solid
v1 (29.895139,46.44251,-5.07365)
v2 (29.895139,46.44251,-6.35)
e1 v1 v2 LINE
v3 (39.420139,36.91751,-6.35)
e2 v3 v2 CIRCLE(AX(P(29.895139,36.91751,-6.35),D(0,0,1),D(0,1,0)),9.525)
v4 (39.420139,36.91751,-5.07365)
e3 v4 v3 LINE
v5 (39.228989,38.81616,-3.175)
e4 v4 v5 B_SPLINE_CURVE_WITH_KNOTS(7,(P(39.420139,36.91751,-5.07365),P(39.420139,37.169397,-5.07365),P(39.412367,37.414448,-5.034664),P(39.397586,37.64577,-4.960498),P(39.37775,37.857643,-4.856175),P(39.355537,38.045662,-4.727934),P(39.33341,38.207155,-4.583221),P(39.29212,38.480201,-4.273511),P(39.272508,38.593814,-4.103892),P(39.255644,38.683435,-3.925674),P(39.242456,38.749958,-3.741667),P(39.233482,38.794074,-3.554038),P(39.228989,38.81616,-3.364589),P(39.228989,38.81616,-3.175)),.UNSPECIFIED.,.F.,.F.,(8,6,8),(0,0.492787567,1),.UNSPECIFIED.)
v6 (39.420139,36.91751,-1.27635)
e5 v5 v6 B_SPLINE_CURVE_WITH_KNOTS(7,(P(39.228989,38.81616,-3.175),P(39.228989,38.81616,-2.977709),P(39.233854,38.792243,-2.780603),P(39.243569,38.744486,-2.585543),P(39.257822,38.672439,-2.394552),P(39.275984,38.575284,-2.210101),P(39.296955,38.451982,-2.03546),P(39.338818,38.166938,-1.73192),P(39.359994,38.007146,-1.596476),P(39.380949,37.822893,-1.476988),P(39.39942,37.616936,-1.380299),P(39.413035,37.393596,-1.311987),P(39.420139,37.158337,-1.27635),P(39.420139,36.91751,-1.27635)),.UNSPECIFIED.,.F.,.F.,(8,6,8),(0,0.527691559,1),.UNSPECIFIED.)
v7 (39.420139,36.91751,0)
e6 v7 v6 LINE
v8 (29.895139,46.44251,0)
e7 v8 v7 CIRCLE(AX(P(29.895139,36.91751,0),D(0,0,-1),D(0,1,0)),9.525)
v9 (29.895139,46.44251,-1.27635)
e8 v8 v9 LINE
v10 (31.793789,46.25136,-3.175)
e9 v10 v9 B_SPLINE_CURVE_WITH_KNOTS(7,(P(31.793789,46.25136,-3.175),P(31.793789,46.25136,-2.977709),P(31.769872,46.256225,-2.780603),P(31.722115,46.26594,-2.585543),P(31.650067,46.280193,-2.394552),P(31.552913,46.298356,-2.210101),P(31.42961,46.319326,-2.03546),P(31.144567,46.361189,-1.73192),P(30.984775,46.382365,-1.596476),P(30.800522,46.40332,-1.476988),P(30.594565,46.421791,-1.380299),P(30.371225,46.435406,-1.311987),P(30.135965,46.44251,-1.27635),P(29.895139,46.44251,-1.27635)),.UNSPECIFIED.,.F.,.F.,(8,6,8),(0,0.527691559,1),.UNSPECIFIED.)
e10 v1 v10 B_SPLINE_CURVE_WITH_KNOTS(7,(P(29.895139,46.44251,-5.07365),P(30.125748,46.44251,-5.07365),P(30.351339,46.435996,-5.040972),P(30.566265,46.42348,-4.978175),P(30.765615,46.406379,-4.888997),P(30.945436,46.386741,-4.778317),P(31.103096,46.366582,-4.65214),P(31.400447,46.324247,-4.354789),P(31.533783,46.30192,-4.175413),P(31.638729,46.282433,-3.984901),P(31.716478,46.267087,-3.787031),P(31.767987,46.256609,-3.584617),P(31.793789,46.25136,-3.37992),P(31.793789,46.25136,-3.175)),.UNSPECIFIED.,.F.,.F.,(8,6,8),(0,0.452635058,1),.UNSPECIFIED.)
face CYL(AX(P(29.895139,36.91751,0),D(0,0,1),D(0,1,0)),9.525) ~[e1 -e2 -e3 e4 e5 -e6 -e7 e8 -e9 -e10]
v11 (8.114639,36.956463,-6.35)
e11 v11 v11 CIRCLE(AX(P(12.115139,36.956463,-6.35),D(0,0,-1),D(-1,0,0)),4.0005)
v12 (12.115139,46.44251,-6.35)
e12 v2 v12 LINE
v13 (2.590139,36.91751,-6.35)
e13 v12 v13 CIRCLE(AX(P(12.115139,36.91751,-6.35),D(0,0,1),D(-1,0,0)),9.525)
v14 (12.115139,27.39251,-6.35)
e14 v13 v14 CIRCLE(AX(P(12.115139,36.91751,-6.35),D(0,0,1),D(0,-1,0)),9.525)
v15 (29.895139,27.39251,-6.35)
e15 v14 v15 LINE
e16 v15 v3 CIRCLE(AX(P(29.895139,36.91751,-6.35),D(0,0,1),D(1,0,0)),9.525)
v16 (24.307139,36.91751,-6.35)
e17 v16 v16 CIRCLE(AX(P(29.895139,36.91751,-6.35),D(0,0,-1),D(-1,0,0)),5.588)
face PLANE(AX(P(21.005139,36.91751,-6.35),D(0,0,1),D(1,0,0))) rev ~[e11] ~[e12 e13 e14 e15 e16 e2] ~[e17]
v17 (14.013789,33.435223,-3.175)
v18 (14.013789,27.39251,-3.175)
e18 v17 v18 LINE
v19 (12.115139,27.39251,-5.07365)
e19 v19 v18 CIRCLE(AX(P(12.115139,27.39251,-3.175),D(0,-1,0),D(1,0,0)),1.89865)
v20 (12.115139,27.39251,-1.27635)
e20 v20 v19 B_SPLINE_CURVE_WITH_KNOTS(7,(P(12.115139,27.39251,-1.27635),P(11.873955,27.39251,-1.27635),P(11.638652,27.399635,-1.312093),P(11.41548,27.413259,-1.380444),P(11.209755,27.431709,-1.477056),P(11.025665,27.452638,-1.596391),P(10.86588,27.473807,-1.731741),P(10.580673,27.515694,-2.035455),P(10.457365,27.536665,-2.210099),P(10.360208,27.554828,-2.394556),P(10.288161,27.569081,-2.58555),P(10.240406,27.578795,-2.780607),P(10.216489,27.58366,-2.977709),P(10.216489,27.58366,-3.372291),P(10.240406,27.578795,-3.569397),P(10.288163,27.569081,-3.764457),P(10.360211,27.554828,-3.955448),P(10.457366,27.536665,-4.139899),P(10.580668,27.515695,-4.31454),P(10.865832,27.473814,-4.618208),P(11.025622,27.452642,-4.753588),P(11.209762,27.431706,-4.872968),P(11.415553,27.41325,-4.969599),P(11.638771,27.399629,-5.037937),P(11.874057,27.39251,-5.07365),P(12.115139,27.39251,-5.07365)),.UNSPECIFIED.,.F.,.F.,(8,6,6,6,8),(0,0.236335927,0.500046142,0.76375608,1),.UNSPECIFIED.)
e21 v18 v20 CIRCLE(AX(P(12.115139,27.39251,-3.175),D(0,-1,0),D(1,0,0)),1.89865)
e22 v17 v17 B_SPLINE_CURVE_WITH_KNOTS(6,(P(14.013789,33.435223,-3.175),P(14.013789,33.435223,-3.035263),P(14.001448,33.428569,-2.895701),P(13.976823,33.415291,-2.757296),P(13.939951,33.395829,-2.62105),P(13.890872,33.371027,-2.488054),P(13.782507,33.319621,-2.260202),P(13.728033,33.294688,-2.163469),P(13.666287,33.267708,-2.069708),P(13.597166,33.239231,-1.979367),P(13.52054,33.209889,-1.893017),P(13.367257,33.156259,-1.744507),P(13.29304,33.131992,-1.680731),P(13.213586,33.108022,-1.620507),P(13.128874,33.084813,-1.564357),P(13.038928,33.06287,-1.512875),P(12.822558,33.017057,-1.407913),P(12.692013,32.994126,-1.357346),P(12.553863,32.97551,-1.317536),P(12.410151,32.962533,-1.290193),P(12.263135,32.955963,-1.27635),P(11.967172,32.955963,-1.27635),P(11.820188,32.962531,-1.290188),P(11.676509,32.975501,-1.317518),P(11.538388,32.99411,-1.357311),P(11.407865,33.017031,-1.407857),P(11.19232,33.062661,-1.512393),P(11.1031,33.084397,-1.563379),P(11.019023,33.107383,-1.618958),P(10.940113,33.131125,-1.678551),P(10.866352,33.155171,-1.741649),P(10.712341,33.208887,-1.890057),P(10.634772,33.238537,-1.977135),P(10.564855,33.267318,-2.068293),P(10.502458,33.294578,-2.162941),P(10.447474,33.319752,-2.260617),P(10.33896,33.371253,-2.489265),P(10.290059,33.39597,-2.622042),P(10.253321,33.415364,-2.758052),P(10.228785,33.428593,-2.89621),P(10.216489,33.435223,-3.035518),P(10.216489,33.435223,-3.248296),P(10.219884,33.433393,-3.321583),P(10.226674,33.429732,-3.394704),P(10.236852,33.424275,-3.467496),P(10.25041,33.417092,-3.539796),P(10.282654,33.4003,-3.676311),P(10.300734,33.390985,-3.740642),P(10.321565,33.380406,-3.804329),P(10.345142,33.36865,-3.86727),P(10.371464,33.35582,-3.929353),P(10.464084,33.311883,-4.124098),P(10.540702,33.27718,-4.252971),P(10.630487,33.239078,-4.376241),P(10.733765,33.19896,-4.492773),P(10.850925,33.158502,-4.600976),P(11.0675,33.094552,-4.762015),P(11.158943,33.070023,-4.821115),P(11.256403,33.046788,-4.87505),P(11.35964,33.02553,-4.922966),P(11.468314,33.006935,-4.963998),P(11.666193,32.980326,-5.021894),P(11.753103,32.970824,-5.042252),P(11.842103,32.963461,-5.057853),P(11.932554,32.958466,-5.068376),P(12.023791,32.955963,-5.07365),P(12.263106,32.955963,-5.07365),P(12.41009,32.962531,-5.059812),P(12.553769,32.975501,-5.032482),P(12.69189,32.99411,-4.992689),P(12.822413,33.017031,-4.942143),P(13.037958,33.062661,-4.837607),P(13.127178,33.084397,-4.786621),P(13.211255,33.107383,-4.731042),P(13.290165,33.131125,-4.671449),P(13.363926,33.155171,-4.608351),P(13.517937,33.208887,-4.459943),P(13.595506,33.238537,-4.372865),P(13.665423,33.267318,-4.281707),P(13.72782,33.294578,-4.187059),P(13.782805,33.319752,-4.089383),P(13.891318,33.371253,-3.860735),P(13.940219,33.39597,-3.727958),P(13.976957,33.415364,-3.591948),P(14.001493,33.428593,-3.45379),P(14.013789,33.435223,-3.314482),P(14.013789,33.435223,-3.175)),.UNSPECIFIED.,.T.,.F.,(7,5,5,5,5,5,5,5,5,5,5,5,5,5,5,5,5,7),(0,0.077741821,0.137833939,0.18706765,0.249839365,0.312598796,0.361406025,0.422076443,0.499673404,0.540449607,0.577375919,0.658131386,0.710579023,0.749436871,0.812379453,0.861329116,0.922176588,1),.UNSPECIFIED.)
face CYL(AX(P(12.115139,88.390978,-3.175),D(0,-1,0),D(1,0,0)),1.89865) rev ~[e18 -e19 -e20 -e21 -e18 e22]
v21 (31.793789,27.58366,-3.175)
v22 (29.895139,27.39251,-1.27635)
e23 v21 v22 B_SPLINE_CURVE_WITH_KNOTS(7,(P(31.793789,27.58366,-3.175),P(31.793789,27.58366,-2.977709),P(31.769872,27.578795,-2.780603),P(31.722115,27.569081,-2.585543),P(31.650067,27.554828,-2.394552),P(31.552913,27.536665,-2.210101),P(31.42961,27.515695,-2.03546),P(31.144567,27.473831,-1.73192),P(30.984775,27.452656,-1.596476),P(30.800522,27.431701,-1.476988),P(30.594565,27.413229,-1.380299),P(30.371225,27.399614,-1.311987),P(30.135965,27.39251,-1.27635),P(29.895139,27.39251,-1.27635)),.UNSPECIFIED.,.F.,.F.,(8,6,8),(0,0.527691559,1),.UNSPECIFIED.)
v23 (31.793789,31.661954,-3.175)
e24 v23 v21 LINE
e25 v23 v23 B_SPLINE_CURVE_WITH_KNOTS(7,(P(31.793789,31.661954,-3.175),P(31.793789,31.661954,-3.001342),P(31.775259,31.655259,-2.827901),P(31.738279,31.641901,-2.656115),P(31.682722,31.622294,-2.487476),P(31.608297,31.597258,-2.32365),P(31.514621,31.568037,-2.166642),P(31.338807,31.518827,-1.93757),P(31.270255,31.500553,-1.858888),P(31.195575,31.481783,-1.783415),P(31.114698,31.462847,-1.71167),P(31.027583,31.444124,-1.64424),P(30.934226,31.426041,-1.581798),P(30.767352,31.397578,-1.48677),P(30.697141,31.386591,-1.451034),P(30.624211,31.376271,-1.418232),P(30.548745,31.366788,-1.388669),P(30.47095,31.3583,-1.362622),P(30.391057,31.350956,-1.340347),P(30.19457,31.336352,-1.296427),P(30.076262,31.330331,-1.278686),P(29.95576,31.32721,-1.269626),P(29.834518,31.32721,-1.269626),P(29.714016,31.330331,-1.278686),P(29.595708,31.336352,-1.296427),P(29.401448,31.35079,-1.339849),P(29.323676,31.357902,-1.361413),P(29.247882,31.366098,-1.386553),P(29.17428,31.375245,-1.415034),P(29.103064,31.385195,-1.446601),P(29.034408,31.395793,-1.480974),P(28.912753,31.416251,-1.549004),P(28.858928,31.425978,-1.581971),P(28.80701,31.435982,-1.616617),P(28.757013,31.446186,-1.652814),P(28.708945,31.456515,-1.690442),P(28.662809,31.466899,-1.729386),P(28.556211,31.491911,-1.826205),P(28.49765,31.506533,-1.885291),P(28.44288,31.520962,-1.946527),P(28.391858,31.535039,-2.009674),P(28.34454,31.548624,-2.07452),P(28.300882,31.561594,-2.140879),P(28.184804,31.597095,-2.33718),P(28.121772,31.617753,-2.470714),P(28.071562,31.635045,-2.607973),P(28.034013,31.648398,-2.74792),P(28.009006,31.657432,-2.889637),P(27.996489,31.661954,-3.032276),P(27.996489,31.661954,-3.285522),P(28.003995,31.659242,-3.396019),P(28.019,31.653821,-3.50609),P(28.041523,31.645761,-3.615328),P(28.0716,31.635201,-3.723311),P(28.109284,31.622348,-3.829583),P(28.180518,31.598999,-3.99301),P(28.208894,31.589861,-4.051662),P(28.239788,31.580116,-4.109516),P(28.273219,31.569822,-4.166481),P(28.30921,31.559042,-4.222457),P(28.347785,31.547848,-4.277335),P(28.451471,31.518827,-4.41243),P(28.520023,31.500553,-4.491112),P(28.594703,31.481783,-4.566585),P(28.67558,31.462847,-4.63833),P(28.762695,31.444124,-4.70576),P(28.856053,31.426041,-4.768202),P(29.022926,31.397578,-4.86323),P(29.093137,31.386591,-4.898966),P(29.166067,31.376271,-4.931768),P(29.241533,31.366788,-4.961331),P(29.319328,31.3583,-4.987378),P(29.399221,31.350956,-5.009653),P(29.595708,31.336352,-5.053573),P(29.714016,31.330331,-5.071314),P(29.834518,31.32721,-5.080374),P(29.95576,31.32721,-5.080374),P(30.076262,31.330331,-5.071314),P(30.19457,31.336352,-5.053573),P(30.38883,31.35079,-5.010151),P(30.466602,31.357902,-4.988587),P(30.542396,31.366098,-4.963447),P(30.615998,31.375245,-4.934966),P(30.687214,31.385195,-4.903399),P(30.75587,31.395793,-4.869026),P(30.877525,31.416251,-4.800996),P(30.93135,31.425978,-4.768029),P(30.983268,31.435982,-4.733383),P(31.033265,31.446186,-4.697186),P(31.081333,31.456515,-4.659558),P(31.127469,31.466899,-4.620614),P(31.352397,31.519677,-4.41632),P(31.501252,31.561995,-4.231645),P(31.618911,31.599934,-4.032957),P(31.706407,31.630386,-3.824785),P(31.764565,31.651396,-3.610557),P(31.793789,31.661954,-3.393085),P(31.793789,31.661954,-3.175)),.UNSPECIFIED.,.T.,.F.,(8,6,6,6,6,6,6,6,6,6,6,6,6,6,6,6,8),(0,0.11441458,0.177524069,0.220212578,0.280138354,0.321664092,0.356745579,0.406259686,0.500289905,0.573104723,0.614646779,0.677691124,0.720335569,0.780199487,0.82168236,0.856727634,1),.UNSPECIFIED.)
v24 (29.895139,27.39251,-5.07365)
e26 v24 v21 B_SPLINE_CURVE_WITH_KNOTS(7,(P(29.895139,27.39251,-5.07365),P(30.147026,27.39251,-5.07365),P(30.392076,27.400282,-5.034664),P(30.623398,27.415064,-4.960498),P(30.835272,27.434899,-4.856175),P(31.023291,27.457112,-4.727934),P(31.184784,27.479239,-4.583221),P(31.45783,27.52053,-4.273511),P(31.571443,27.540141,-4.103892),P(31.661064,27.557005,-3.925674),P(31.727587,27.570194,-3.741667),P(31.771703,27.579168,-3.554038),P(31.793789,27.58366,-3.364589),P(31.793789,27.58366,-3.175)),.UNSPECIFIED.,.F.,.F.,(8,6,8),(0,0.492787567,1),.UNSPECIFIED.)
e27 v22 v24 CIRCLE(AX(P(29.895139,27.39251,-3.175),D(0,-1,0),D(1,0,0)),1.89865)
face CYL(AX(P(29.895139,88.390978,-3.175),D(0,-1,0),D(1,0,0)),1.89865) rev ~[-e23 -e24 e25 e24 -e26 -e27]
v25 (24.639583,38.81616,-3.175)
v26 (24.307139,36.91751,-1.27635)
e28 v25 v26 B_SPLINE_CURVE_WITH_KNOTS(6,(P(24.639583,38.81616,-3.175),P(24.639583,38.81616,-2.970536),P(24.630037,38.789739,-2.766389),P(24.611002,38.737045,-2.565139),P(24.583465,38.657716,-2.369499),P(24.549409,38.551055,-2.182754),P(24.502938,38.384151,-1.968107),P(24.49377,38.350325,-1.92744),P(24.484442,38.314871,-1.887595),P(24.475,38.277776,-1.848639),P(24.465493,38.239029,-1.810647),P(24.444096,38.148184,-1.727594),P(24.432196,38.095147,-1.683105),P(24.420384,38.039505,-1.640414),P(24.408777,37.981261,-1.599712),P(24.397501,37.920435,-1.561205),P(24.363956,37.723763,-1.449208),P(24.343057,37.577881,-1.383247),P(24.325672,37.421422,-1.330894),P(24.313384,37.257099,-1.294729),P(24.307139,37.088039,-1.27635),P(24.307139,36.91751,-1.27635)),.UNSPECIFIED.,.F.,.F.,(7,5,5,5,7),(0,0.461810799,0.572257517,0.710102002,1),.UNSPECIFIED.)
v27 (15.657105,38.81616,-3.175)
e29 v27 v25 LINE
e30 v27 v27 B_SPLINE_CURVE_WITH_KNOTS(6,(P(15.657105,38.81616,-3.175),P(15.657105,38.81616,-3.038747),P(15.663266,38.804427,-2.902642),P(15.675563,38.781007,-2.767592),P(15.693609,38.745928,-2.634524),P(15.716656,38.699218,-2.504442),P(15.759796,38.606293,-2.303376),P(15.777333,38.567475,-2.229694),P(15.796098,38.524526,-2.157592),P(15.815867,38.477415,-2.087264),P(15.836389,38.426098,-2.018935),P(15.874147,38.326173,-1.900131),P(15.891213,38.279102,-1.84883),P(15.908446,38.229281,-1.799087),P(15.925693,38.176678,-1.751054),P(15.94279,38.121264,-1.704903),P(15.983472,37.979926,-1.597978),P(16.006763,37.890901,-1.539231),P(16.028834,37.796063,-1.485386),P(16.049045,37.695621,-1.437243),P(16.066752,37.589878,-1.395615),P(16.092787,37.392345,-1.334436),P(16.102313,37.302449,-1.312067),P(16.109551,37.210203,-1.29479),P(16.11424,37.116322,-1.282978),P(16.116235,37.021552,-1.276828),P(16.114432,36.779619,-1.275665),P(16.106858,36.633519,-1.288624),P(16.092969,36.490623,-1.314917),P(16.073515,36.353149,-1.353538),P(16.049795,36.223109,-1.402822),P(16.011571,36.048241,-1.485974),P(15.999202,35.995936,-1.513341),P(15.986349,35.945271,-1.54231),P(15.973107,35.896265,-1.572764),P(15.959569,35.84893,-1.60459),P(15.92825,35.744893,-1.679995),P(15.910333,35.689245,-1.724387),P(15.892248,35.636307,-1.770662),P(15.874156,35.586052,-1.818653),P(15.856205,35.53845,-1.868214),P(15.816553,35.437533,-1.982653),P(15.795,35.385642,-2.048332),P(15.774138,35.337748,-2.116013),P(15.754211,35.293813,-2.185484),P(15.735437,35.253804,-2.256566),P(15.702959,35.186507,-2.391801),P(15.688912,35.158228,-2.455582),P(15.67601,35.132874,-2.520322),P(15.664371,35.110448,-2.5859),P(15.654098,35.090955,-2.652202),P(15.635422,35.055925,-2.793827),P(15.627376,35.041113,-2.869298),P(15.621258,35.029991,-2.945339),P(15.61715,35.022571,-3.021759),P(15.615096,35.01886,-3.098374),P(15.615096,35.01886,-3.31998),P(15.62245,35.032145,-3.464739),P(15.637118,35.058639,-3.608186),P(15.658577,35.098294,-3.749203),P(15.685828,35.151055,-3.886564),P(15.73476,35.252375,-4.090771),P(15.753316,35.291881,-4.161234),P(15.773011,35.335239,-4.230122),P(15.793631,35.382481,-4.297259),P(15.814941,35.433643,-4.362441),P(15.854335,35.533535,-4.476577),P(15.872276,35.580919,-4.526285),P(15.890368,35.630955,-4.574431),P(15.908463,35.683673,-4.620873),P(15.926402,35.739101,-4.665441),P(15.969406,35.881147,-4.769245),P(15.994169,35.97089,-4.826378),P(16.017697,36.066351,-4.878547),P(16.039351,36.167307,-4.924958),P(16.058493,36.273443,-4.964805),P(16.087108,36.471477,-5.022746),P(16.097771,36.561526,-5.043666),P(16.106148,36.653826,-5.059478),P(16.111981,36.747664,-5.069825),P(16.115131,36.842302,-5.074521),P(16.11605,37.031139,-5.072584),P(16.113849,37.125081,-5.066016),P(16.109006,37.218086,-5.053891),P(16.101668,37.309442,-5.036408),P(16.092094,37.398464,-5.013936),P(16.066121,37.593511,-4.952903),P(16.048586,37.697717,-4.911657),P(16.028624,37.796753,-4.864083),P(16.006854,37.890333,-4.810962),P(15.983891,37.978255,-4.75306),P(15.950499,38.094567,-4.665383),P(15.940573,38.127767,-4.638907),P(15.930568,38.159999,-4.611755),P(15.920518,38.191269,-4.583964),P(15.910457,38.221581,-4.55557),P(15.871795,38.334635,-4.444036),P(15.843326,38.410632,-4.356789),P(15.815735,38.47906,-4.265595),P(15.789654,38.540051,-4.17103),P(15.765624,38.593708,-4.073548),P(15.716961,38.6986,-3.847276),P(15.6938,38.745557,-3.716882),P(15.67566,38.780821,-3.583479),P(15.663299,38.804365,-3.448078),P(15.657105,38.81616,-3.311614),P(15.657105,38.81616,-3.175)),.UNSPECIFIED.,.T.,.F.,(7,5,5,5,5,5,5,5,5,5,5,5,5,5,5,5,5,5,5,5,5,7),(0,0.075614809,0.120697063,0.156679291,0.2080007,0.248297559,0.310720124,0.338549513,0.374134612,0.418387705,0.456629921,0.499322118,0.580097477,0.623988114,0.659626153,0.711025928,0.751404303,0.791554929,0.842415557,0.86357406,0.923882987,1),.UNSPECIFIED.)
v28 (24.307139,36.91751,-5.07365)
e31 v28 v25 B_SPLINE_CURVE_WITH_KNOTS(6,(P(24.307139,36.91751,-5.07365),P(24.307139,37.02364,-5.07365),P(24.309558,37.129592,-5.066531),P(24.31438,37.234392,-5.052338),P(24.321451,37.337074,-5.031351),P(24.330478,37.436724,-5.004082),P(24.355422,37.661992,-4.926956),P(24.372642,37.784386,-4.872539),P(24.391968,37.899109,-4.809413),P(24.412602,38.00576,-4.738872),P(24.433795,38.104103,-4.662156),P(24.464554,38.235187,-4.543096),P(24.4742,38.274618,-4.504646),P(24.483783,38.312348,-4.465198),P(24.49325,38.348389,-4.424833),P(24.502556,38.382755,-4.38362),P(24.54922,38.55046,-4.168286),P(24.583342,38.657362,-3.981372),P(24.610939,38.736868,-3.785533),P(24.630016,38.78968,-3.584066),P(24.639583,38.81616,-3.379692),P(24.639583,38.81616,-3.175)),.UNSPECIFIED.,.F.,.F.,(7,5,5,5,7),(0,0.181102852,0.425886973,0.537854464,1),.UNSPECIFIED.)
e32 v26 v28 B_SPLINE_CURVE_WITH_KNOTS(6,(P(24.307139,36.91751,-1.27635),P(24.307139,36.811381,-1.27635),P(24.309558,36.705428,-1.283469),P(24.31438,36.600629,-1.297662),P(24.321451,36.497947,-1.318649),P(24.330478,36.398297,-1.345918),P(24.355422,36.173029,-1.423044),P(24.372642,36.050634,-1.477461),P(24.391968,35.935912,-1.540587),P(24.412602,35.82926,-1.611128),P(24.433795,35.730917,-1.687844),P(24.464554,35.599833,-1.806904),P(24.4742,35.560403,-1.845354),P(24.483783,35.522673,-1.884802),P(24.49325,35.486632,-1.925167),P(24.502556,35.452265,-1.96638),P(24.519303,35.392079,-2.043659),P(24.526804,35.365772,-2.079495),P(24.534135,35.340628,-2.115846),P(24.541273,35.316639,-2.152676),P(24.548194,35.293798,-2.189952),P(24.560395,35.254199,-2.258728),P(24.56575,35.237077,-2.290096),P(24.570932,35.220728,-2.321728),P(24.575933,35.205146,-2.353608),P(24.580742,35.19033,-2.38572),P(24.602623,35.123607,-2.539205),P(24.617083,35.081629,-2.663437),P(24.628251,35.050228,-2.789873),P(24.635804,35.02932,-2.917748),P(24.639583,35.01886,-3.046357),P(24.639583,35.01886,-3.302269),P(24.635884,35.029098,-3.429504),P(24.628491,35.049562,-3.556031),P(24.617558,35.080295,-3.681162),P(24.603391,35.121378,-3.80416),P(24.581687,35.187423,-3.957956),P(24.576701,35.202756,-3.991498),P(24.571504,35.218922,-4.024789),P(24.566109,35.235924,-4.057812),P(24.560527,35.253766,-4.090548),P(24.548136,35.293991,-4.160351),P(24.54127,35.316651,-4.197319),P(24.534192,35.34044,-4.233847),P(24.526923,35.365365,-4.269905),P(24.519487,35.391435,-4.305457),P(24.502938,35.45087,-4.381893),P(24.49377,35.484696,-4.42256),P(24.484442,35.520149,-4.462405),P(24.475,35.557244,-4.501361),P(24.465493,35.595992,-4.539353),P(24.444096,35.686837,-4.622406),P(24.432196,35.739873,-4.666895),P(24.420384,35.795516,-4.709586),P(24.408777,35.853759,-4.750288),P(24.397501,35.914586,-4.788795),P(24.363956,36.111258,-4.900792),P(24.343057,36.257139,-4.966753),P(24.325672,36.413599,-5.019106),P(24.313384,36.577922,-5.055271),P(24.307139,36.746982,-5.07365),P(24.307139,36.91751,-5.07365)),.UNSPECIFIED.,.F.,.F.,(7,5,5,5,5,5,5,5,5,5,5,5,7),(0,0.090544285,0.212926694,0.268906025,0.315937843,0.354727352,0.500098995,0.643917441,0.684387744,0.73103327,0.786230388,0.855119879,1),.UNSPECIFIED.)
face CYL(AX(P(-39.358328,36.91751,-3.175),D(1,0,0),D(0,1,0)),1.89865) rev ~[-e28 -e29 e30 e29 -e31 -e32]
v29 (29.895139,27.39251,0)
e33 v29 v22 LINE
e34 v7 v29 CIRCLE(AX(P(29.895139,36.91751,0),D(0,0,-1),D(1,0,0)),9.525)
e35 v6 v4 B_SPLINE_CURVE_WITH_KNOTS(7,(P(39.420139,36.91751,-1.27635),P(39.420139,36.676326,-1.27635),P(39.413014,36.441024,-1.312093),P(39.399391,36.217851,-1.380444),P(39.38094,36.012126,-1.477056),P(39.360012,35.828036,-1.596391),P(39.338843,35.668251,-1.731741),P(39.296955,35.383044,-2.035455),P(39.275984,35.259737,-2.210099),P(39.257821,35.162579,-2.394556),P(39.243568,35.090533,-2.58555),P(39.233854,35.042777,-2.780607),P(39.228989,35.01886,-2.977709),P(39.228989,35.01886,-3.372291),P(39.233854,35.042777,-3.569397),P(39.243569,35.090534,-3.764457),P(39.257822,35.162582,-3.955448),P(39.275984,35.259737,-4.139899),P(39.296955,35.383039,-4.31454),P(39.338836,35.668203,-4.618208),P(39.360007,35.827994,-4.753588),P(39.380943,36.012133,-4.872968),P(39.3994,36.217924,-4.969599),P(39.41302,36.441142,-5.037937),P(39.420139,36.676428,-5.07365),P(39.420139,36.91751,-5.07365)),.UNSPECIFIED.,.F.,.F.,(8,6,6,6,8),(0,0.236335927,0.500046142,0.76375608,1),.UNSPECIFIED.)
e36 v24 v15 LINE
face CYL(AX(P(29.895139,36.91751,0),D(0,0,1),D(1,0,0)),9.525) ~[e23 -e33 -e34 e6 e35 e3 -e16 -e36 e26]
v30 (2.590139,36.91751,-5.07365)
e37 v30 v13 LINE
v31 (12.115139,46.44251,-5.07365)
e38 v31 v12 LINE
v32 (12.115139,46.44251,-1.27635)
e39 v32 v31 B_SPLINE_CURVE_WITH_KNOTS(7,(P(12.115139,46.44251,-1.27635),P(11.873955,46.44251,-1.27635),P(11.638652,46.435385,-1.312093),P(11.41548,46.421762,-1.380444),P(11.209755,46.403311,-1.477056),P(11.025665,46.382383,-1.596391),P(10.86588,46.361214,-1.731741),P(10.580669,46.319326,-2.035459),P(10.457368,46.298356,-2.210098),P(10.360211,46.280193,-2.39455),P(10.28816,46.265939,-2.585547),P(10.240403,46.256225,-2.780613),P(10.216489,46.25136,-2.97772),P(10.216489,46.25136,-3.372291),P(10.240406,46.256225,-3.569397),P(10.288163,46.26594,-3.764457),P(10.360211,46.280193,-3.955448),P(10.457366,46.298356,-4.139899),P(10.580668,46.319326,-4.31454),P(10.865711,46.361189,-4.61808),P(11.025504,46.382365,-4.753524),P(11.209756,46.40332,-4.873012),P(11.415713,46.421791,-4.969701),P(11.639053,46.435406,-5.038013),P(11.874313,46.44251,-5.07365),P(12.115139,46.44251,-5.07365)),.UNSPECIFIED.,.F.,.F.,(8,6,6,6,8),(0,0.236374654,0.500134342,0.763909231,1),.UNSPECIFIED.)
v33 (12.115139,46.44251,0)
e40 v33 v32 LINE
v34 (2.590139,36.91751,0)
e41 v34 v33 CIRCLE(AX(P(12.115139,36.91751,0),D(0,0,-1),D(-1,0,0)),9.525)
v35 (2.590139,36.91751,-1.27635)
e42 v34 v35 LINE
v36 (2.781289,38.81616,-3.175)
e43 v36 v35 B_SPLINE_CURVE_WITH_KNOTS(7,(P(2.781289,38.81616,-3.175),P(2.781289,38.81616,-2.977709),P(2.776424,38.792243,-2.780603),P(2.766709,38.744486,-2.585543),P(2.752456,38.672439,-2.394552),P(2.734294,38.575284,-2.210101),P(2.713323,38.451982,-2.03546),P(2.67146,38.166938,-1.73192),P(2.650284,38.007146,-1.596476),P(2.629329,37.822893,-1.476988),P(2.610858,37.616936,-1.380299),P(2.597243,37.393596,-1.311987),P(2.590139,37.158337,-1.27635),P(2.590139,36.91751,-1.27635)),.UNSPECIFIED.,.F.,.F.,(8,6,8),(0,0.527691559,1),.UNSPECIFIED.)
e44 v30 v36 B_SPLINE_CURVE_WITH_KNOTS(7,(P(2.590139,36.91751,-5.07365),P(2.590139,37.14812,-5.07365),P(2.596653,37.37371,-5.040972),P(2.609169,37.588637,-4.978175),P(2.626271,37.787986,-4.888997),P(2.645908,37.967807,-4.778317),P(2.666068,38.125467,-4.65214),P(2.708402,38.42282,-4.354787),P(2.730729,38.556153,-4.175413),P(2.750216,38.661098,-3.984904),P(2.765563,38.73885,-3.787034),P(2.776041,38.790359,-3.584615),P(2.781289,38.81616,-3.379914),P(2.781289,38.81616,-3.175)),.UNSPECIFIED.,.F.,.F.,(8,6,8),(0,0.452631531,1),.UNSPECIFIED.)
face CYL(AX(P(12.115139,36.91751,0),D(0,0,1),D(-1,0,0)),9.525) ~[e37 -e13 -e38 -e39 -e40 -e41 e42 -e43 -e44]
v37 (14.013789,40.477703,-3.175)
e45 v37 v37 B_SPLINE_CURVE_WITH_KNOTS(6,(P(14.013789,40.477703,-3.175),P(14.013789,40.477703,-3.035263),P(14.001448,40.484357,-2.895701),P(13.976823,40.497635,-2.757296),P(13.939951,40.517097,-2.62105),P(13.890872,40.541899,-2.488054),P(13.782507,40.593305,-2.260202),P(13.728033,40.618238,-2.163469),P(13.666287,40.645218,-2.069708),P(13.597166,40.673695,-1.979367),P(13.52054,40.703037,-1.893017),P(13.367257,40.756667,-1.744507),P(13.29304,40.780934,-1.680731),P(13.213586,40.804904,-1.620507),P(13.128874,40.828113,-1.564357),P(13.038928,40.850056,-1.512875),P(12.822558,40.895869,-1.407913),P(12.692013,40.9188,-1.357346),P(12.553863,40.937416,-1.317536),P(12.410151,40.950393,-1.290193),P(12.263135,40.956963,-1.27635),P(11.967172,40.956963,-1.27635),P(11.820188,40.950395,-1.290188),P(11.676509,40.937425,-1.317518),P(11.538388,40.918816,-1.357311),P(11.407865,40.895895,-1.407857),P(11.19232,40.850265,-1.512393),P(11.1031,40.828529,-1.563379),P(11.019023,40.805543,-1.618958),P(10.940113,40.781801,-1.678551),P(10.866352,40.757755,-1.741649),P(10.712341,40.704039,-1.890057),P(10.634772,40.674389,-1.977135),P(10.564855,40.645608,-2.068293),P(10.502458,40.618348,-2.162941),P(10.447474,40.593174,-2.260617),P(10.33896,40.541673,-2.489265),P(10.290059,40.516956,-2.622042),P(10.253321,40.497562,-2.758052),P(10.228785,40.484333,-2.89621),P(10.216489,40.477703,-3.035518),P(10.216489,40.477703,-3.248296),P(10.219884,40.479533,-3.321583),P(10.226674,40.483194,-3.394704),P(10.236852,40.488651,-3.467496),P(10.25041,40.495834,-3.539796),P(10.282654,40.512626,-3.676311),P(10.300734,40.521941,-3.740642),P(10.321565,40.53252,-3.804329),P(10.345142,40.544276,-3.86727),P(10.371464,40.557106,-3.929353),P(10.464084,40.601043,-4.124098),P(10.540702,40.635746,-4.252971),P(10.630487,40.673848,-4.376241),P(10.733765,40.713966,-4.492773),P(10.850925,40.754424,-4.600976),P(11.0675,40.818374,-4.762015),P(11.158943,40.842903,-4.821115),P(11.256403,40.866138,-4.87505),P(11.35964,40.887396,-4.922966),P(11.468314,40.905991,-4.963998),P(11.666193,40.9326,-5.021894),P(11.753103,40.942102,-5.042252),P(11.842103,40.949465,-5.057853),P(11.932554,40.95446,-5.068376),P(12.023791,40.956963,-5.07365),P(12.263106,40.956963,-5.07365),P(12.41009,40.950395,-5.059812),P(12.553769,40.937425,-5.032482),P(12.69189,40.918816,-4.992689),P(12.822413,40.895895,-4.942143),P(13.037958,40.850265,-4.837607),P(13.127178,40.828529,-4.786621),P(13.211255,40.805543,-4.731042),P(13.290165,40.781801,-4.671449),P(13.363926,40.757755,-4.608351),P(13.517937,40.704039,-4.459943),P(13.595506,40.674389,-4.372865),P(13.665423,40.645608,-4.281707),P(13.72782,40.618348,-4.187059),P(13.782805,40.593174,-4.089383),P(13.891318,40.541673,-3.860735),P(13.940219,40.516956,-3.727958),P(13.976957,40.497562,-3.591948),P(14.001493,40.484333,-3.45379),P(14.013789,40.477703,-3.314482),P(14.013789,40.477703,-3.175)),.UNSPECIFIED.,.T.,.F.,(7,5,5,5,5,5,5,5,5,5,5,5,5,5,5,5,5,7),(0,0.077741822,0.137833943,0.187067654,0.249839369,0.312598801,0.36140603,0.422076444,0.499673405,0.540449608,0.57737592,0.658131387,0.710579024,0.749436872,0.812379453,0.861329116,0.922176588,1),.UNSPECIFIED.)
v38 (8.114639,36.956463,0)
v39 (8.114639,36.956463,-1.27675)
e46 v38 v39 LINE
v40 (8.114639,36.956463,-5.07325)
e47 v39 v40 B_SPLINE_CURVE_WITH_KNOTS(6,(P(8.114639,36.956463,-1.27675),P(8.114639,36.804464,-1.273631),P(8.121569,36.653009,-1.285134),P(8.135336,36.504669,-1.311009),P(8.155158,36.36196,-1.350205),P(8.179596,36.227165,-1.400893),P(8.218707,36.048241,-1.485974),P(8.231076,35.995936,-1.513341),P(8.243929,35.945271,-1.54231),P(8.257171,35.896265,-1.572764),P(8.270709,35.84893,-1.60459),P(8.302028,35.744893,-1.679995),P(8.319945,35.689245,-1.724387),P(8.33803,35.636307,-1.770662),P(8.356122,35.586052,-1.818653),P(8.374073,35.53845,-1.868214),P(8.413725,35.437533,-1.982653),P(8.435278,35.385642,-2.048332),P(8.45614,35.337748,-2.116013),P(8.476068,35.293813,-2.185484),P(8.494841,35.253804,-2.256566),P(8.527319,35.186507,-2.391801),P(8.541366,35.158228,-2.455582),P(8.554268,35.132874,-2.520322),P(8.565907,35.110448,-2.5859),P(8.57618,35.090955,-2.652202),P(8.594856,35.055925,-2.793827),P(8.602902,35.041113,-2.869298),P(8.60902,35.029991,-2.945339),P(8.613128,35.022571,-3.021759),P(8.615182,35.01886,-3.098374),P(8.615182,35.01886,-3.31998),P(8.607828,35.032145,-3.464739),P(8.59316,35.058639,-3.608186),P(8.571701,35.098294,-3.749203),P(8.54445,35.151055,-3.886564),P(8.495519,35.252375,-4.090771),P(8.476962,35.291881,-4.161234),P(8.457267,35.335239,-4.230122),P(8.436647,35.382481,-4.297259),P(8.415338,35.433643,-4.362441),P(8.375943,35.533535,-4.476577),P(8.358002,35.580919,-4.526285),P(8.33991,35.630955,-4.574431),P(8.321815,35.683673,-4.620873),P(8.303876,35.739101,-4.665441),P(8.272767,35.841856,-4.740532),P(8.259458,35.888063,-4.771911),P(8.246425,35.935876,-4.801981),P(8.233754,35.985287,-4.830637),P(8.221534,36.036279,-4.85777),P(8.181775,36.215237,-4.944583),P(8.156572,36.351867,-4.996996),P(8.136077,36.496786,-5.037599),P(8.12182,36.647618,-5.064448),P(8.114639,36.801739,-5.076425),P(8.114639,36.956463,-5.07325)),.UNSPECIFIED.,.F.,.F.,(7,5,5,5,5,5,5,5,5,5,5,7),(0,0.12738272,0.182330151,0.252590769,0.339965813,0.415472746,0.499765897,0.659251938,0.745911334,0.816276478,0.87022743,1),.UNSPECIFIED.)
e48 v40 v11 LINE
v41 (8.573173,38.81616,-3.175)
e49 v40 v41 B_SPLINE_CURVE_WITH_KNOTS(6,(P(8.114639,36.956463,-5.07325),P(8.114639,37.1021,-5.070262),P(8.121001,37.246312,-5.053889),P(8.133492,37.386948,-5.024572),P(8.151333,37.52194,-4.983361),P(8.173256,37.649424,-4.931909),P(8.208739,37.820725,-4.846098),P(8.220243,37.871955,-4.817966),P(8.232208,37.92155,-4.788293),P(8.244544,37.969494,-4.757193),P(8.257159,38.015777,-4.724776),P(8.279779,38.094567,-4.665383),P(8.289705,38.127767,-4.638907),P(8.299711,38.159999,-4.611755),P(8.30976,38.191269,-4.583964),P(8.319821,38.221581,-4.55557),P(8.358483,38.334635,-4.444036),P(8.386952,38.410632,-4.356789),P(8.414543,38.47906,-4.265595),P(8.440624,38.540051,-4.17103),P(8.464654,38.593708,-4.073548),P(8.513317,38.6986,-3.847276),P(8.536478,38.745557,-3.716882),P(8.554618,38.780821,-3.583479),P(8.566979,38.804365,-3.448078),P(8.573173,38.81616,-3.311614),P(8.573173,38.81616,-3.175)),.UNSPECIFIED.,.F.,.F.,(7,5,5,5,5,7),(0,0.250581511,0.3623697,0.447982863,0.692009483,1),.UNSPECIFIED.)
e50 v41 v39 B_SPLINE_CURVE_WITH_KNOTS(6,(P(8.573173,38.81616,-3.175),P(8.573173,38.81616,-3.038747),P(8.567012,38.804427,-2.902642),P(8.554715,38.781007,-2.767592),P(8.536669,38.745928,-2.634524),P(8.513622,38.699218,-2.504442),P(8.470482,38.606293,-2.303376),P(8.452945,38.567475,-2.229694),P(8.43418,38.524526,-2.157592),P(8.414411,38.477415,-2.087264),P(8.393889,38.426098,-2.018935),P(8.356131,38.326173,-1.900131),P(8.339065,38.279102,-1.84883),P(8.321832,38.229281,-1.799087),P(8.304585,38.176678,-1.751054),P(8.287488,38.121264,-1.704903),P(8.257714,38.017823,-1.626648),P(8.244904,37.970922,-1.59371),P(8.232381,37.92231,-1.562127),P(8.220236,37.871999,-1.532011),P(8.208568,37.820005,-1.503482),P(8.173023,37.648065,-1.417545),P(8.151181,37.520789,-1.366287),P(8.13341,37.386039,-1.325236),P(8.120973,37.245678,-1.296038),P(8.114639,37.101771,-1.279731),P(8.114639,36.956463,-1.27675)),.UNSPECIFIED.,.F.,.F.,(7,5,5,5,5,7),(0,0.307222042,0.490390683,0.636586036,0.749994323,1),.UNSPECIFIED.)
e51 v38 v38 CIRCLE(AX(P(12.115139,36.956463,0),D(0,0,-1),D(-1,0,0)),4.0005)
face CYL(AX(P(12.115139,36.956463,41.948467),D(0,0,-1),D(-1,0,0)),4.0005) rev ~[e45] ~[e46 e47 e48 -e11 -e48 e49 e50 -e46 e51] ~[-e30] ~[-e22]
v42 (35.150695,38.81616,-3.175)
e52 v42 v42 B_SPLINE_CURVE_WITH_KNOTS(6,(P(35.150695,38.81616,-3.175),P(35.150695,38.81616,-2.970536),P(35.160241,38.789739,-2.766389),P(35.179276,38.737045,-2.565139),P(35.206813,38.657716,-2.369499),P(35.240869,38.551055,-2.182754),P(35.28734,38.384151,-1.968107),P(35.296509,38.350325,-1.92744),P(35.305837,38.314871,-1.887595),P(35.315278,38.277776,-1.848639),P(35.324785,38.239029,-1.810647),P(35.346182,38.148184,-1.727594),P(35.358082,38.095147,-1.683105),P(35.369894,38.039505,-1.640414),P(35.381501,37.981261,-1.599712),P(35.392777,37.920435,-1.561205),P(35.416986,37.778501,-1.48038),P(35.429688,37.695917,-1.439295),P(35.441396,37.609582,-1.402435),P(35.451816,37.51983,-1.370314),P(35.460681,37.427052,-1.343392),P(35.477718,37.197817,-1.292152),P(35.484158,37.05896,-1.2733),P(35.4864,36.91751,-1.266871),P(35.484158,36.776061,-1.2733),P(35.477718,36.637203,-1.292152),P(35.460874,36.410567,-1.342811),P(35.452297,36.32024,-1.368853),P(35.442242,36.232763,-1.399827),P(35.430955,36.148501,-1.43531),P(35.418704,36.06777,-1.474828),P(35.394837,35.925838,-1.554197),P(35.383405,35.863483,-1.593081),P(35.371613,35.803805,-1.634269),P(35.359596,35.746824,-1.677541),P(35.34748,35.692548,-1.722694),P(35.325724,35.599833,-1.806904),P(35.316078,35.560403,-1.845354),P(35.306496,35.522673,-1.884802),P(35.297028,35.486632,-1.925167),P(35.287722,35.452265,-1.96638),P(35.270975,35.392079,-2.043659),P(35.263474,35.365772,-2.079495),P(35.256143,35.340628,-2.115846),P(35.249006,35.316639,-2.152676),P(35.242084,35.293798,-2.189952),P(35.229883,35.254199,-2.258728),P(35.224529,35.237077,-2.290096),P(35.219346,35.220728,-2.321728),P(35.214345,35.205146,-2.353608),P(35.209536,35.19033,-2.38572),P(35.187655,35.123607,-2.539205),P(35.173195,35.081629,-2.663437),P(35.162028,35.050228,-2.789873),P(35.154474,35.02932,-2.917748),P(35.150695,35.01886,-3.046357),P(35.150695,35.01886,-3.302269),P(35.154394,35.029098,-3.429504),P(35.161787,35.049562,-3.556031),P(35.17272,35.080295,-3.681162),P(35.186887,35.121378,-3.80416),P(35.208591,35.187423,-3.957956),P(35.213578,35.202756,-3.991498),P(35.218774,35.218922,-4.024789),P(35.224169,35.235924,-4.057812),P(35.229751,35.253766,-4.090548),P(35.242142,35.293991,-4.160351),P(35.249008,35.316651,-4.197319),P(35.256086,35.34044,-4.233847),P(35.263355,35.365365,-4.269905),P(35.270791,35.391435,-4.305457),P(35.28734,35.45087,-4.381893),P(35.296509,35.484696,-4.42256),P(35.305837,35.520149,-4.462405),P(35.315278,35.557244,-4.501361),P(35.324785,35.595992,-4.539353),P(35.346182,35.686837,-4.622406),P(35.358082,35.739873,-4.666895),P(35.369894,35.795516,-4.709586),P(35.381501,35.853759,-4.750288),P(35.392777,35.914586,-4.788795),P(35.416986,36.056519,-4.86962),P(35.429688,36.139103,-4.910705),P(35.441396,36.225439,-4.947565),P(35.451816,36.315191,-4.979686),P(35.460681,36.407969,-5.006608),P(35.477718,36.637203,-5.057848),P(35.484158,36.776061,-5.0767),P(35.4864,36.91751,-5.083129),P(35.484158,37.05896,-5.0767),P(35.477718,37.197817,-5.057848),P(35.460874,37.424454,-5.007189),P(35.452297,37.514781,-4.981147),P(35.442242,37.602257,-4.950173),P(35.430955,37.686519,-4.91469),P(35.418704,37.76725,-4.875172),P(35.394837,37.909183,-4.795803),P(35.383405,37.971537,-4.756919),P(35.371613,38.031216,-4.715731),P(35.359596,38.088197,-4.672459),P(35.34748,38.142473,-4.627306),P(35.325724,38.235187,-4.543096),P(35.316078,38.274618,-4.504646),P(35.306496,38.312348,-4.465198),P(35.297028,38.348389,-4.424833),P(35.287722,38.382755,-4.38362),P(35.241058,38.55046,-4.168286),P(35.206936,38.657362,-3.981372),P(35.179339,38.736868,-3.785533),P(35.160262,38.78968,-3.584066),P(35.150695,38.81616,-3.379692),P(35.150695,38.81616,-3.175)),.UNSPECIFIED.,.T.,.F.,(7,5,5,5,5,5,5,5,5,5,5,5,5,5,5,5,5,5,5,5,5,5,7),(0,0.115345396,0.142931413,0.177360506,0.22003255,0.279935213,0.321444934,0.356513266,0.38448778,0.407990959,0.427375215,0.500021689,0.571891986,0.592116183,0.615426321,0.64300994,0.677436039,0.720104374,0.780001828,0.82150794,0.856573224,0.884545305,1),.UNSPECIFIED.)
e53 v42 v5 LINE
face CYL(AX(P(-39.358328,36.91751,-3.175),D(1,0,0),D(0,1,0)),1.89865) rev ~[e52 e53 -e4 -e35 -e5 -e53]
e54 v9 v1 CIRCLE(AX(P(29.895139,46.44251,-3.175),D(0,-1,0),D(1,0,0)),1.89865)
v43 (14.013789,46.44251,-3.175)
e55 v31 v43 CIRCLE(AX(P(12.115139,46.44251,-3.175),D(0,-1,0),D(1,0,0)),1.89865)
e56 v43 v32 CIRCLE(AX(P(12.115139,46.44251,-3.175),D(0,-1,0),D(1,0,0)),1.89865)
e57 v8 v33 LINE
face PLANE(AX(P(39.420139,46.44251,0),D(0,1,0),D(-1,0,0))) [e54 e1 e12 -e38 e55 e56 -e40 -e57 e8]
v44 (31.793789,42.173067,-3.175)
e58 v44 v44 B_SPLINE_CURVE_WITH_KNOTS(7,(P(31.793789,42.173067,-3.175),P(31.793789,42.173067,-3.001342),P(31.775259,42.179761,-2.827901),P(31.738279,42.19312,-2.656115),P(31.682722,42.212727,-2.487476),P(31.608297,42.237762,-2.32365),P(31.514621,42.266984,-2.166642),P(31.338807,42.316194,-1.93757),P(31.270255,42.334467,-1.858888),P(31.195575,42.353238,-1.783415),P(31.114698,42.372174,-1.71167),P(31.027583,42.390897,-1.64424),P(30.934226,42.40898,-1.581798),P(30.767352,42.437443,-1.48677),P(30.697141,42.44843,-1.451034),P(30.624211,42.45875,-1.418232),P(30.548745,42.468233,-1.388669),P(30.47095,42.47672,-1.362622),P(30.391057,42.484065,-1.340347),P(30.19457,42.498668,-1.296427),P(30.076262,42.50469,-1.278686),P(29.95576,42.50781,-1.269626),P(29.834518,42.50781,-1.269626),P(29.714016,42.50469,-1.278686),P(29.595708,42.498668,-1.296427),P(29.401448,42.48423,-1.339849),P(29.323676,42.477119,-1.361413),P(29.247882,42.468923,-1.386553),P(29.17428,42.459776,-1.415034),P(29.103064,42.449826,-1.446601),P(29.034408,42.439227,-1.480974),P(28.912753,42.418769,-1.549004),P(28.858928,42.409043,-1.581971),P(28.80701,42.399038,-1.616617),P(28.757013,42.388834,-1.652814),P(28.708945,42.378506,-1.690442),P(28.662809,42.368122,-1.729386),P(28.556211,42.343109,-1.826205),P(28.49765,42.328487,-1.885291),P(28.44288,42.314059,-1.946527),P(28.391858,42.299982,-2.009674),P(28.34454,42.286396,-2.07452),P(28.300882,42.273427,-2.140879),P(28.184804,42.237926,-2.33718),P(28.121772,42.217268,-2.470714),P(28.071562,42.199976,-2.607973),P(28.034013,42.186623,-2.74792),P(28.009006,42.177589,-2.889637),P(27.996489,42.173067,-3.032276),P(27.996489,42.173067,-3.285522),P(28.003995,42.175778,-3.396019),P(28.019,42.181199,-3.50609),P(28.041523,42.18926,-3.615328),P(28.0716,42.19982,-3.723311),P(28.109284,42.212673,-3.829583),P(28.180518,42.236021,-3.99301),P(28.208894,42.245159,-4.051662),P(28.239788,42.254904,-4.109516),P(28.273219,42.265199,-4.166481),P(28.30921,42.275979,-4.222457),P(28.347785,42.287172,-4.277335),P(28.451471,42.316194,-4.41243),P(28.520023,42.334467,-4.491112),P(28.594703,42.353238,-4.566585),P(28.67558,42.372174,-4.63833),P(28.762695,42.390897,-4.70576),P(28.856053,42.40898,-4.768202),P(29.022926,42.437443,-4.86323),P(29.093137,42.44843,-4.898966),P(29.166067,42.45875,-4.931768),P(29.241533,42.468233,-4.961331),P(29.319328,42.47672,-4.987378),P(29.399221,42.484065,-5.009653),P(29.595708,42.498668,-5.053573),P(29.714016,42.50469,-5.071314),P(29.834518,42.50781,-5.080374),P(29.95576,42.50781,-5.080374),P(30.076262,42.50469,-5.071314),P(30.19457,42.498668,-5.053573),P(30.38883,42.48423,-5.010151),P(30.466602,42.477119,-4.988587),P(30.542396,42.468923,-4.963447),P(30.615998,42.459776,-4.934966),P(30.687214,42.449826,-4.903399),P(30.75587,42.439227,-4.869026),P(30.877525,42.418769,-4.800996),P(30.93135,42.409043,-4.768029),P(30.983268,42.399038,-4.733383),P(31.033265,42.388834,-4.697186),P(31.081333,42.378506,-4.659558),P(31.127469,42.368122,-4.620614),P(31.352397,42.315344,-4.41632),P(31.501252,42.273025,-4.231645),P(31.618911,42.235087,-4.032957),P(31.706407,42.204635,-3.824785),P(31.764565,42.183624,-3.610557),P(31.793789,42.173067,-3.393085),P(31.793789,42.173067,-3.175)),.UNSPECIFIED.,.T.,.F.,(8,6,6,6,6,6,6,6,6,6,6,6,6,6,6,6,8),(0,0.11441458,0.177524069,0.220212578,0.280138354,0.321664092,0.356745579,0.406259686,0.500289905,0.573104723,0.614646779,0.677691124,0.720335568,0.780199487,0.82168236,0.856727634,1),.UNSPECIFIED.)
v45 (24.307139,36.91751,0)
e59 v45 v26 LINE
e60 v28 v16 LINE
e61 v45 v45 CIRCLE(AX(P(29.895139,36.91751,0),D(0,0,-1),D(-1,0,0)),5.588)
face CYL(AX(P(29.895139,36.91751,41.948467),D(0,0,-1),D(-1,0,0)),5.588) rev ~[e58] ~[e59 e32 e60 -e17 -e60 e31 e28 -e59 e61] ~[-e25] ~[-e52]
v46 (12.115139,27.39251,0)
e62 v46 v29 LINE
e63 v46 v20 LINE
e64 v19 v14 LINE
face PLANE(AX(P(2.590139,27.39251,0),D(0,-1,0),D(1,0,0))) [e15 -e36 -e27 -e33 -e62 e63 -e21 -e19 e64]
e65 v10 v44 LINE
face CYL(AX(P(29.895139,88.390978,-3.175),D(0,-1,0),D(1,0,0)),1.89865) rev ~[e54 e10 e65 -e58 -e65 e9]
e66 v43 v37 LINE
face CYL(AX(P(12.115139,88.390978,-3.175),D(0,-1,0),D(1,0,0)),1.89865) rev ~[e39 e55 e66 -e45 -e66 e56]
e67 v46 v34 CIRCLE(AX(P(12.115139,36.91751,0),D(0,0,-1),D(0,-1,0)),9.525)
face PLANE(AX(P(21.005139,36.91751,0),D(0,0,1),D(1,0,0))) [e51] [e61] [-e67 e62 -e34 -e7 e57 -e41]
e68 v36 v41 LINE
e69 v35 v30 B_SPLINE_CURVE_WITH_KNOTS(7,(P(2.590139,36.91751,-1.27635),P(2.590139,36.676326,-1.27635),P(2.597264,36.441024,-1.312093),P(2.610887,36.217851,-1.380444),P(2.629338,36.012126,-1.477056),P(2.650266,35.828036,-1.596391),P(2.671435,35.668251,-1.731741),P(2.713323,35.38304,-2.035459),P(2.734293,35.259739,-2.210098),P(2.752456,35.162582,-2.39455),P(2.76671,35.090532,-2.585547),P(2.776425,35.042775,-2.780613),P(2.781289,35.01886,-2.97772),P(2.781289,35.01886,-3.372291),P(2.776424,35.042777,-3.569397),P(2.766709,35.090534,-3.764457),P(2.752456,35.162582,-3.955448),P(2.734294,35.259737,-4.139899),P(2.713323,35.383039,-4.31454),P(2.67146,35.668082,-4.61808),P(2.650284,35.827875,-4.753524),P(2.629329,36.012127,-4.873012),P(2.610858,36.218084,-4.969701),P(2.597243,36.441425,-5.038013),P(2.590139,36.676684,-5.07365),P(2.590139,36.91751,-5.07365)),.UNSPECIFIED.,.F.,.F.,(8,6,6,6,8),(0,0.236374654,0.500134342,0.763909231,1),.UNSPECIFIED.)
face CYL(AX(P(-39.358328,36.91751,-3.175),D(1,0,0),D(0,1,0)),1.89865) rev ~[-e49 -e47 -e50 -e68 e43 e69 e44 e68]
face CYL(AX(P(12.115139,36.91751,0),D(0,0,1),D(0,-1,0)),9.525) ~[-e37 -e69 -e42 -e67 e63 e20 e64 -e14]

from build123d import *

# Parameters (mm, degrees)
F1_DEPTH   = 6.35
F4_D       = 3.7973
F4_ON_F3_D = 3.7973
F5_DEPTH   = 25.4
F6_D       = 8.001
F7_D       = 11.176


with BuildPart() as f1:
    # F0 (on Top) → F1 (new body)
    with BuildSketch(Plane.XY):
        with BuildLine():
            Line((29.8951390445, 46.4425103247), (12.1151390445, 46.4425103247))
            ThreePointArc((12.1151390445, 46.4425103247), (5.3799469537, 43.6527024155), (2.5901390445, 36.9175103247))
            ThreePointArc((2.5901390445, 36.9175103247), (5.3799469537, 30.1823182339), (12.1151390445, 27.3925103247))
            Line((12.1151390445, 27.3925103247), (29.8951390445, 27.3925103247))
            ThreePointArc((29.8951390445, 27.3925103247), (36.6303311353, 30.1823182339), (39.4201390445, 36.9175103247))
            ThreePointArc((39.4201390445, 36.9175103247), (36.6303311353, 43.6527024155), (29.8951390445, 46.4425103247))
        make_face()
        with BuildLine():
            Line((12.1151390445, 46.4425103247), (2.5901390445, 46.4425103247))
            Line((2.5901390445, 46.4425103247), (2.5901390445, 36.9175103247))
            ThreePointArc((2.5901390445, 36.9175103247), (5.3799469537, 43.6527024155), (12.1151390445, 46.4425103247))
        make_face()
        with BuildLine():
            ThreePointArc((12.1151390445, 27.3925103247), (5.3799469537, 30.1823182339), (2.5901390445, 36.9175103247))
            Line((2.5901390445, 36.9175103247), (2.5901390445, 27.3925103247))
            Line((2.5901390445, 27.3925103247), (12.1151390445, 27.3925103247))
        make_face()
        with BuildLine():
            Line((39.4201390445, 27.3925103247), (39.4201390445, 36.9175103247))
            ThreePointArc((39.4201390445, 36.9175103247), (36.6303311353, 30.1823182339), (29.8951390445, 27.3925103247))
            Line((29.8951390445, 27.3925103247), (39.4201390445, 27.3925103247))
        make_face()
        with BuildLine():
            Line((39.4201390445, 46.4425103247), (29.8951390445, 46.4425103247))
            ThreePointArc((29.8951390445, 46.4425103247), (36.6303311353, 43.6527024155), (39.4201390445, 36.9175103247))
            Line((39.4201390445, 36.9175103247), (39.4201390445, 46.4425103247))
        make_face()
    extrude(amount=-F1_DEPTH)

    # F4 (through all)
    with Locations(Plane(origin=(2.5901390445, 0, 0), x_dir=(0, -1, 0), z_dir=(-1, 0, 0))):
        with Locations((-36.9175103247, -3.175)):
            Hole(F4_D / 2)

    # F4 on F3 (through all)
    with Locations(Plane(origin=(0, 46.4425103247, 0), x_dir=(-1, 0, 0), z_dir=(0, 1, 0))):
        with Locations((-12.1151390445, -3.175), (-29.8951390445, -3.175)):
            Hole(F4_ON_F3_D / 2)

    # F0 (on Top) → F5 (cut)
    with BuildSketch(Plane.XY):
        with BuildLine():
            Line((12.1151390445, 46.4425103247), (2.5901390445, 46.4425103247))
            Line((2.5901390445, 46.4425103247), (2.5901390445, 36.9175103247))
            ThreePointArc((2.5901390445, 36.9175103247), (5.3799469537, 43.6527024155), (12.1151390445, 46.4425103247))
        make_face()
        with BuildLine():
            ThreePointArc((12.1151390445, 27.3925103247), (5.3799469537, 30.1823182339), (2.5901390445, 36.9175103247))
            Line((2.5901390445, 36.9175103247), (2.5901390445, 27.3925103247))
            Line((2.5901390445, 27.3925103247), (12.1151390445, 27.3925103247))
        make_face()
        with BuildLine():
            Line((39.4201390445, 46.4425103247), (29.8951390445, 46.4425103247))
            ThreePointArc((29.8951390445, 46.4425103247), (36.6303311353, 43.6527024155), (39.4201390445, 36.9175103247))
            Line((39.4201390445, 36.9175103247), (39.4201390445, 46.4425103247))
        make_face()
        with BuildLine():
            Line((39.4201390445, 27.3925103247), (39.4201390445, 36.9175103247))
            ThreePointArc((39.4201390445, 36.9175103247), (36.6303311353, 30.1823182339), (29.8951390445, 27.3925103247))
            Line((29.8951390445, 27.3925103247), (39.4201390445, 27.3925103247))
        make_face()
    extrude(amount=-F5_DEPTH, mode=Mode.SUBTRACT)

    # F6 (through all)
    with Locations(Plane.XY):
        with Locations((12.1151390445, 36.9564630091)):
            Hole(F6_D / 2)

    # F7 (through all)
    with Locations(Plane.XY):
        with Locations((29.8951390445, 36.9175103247)):
            Hole(F7_D / 2)


solid = f1.part
